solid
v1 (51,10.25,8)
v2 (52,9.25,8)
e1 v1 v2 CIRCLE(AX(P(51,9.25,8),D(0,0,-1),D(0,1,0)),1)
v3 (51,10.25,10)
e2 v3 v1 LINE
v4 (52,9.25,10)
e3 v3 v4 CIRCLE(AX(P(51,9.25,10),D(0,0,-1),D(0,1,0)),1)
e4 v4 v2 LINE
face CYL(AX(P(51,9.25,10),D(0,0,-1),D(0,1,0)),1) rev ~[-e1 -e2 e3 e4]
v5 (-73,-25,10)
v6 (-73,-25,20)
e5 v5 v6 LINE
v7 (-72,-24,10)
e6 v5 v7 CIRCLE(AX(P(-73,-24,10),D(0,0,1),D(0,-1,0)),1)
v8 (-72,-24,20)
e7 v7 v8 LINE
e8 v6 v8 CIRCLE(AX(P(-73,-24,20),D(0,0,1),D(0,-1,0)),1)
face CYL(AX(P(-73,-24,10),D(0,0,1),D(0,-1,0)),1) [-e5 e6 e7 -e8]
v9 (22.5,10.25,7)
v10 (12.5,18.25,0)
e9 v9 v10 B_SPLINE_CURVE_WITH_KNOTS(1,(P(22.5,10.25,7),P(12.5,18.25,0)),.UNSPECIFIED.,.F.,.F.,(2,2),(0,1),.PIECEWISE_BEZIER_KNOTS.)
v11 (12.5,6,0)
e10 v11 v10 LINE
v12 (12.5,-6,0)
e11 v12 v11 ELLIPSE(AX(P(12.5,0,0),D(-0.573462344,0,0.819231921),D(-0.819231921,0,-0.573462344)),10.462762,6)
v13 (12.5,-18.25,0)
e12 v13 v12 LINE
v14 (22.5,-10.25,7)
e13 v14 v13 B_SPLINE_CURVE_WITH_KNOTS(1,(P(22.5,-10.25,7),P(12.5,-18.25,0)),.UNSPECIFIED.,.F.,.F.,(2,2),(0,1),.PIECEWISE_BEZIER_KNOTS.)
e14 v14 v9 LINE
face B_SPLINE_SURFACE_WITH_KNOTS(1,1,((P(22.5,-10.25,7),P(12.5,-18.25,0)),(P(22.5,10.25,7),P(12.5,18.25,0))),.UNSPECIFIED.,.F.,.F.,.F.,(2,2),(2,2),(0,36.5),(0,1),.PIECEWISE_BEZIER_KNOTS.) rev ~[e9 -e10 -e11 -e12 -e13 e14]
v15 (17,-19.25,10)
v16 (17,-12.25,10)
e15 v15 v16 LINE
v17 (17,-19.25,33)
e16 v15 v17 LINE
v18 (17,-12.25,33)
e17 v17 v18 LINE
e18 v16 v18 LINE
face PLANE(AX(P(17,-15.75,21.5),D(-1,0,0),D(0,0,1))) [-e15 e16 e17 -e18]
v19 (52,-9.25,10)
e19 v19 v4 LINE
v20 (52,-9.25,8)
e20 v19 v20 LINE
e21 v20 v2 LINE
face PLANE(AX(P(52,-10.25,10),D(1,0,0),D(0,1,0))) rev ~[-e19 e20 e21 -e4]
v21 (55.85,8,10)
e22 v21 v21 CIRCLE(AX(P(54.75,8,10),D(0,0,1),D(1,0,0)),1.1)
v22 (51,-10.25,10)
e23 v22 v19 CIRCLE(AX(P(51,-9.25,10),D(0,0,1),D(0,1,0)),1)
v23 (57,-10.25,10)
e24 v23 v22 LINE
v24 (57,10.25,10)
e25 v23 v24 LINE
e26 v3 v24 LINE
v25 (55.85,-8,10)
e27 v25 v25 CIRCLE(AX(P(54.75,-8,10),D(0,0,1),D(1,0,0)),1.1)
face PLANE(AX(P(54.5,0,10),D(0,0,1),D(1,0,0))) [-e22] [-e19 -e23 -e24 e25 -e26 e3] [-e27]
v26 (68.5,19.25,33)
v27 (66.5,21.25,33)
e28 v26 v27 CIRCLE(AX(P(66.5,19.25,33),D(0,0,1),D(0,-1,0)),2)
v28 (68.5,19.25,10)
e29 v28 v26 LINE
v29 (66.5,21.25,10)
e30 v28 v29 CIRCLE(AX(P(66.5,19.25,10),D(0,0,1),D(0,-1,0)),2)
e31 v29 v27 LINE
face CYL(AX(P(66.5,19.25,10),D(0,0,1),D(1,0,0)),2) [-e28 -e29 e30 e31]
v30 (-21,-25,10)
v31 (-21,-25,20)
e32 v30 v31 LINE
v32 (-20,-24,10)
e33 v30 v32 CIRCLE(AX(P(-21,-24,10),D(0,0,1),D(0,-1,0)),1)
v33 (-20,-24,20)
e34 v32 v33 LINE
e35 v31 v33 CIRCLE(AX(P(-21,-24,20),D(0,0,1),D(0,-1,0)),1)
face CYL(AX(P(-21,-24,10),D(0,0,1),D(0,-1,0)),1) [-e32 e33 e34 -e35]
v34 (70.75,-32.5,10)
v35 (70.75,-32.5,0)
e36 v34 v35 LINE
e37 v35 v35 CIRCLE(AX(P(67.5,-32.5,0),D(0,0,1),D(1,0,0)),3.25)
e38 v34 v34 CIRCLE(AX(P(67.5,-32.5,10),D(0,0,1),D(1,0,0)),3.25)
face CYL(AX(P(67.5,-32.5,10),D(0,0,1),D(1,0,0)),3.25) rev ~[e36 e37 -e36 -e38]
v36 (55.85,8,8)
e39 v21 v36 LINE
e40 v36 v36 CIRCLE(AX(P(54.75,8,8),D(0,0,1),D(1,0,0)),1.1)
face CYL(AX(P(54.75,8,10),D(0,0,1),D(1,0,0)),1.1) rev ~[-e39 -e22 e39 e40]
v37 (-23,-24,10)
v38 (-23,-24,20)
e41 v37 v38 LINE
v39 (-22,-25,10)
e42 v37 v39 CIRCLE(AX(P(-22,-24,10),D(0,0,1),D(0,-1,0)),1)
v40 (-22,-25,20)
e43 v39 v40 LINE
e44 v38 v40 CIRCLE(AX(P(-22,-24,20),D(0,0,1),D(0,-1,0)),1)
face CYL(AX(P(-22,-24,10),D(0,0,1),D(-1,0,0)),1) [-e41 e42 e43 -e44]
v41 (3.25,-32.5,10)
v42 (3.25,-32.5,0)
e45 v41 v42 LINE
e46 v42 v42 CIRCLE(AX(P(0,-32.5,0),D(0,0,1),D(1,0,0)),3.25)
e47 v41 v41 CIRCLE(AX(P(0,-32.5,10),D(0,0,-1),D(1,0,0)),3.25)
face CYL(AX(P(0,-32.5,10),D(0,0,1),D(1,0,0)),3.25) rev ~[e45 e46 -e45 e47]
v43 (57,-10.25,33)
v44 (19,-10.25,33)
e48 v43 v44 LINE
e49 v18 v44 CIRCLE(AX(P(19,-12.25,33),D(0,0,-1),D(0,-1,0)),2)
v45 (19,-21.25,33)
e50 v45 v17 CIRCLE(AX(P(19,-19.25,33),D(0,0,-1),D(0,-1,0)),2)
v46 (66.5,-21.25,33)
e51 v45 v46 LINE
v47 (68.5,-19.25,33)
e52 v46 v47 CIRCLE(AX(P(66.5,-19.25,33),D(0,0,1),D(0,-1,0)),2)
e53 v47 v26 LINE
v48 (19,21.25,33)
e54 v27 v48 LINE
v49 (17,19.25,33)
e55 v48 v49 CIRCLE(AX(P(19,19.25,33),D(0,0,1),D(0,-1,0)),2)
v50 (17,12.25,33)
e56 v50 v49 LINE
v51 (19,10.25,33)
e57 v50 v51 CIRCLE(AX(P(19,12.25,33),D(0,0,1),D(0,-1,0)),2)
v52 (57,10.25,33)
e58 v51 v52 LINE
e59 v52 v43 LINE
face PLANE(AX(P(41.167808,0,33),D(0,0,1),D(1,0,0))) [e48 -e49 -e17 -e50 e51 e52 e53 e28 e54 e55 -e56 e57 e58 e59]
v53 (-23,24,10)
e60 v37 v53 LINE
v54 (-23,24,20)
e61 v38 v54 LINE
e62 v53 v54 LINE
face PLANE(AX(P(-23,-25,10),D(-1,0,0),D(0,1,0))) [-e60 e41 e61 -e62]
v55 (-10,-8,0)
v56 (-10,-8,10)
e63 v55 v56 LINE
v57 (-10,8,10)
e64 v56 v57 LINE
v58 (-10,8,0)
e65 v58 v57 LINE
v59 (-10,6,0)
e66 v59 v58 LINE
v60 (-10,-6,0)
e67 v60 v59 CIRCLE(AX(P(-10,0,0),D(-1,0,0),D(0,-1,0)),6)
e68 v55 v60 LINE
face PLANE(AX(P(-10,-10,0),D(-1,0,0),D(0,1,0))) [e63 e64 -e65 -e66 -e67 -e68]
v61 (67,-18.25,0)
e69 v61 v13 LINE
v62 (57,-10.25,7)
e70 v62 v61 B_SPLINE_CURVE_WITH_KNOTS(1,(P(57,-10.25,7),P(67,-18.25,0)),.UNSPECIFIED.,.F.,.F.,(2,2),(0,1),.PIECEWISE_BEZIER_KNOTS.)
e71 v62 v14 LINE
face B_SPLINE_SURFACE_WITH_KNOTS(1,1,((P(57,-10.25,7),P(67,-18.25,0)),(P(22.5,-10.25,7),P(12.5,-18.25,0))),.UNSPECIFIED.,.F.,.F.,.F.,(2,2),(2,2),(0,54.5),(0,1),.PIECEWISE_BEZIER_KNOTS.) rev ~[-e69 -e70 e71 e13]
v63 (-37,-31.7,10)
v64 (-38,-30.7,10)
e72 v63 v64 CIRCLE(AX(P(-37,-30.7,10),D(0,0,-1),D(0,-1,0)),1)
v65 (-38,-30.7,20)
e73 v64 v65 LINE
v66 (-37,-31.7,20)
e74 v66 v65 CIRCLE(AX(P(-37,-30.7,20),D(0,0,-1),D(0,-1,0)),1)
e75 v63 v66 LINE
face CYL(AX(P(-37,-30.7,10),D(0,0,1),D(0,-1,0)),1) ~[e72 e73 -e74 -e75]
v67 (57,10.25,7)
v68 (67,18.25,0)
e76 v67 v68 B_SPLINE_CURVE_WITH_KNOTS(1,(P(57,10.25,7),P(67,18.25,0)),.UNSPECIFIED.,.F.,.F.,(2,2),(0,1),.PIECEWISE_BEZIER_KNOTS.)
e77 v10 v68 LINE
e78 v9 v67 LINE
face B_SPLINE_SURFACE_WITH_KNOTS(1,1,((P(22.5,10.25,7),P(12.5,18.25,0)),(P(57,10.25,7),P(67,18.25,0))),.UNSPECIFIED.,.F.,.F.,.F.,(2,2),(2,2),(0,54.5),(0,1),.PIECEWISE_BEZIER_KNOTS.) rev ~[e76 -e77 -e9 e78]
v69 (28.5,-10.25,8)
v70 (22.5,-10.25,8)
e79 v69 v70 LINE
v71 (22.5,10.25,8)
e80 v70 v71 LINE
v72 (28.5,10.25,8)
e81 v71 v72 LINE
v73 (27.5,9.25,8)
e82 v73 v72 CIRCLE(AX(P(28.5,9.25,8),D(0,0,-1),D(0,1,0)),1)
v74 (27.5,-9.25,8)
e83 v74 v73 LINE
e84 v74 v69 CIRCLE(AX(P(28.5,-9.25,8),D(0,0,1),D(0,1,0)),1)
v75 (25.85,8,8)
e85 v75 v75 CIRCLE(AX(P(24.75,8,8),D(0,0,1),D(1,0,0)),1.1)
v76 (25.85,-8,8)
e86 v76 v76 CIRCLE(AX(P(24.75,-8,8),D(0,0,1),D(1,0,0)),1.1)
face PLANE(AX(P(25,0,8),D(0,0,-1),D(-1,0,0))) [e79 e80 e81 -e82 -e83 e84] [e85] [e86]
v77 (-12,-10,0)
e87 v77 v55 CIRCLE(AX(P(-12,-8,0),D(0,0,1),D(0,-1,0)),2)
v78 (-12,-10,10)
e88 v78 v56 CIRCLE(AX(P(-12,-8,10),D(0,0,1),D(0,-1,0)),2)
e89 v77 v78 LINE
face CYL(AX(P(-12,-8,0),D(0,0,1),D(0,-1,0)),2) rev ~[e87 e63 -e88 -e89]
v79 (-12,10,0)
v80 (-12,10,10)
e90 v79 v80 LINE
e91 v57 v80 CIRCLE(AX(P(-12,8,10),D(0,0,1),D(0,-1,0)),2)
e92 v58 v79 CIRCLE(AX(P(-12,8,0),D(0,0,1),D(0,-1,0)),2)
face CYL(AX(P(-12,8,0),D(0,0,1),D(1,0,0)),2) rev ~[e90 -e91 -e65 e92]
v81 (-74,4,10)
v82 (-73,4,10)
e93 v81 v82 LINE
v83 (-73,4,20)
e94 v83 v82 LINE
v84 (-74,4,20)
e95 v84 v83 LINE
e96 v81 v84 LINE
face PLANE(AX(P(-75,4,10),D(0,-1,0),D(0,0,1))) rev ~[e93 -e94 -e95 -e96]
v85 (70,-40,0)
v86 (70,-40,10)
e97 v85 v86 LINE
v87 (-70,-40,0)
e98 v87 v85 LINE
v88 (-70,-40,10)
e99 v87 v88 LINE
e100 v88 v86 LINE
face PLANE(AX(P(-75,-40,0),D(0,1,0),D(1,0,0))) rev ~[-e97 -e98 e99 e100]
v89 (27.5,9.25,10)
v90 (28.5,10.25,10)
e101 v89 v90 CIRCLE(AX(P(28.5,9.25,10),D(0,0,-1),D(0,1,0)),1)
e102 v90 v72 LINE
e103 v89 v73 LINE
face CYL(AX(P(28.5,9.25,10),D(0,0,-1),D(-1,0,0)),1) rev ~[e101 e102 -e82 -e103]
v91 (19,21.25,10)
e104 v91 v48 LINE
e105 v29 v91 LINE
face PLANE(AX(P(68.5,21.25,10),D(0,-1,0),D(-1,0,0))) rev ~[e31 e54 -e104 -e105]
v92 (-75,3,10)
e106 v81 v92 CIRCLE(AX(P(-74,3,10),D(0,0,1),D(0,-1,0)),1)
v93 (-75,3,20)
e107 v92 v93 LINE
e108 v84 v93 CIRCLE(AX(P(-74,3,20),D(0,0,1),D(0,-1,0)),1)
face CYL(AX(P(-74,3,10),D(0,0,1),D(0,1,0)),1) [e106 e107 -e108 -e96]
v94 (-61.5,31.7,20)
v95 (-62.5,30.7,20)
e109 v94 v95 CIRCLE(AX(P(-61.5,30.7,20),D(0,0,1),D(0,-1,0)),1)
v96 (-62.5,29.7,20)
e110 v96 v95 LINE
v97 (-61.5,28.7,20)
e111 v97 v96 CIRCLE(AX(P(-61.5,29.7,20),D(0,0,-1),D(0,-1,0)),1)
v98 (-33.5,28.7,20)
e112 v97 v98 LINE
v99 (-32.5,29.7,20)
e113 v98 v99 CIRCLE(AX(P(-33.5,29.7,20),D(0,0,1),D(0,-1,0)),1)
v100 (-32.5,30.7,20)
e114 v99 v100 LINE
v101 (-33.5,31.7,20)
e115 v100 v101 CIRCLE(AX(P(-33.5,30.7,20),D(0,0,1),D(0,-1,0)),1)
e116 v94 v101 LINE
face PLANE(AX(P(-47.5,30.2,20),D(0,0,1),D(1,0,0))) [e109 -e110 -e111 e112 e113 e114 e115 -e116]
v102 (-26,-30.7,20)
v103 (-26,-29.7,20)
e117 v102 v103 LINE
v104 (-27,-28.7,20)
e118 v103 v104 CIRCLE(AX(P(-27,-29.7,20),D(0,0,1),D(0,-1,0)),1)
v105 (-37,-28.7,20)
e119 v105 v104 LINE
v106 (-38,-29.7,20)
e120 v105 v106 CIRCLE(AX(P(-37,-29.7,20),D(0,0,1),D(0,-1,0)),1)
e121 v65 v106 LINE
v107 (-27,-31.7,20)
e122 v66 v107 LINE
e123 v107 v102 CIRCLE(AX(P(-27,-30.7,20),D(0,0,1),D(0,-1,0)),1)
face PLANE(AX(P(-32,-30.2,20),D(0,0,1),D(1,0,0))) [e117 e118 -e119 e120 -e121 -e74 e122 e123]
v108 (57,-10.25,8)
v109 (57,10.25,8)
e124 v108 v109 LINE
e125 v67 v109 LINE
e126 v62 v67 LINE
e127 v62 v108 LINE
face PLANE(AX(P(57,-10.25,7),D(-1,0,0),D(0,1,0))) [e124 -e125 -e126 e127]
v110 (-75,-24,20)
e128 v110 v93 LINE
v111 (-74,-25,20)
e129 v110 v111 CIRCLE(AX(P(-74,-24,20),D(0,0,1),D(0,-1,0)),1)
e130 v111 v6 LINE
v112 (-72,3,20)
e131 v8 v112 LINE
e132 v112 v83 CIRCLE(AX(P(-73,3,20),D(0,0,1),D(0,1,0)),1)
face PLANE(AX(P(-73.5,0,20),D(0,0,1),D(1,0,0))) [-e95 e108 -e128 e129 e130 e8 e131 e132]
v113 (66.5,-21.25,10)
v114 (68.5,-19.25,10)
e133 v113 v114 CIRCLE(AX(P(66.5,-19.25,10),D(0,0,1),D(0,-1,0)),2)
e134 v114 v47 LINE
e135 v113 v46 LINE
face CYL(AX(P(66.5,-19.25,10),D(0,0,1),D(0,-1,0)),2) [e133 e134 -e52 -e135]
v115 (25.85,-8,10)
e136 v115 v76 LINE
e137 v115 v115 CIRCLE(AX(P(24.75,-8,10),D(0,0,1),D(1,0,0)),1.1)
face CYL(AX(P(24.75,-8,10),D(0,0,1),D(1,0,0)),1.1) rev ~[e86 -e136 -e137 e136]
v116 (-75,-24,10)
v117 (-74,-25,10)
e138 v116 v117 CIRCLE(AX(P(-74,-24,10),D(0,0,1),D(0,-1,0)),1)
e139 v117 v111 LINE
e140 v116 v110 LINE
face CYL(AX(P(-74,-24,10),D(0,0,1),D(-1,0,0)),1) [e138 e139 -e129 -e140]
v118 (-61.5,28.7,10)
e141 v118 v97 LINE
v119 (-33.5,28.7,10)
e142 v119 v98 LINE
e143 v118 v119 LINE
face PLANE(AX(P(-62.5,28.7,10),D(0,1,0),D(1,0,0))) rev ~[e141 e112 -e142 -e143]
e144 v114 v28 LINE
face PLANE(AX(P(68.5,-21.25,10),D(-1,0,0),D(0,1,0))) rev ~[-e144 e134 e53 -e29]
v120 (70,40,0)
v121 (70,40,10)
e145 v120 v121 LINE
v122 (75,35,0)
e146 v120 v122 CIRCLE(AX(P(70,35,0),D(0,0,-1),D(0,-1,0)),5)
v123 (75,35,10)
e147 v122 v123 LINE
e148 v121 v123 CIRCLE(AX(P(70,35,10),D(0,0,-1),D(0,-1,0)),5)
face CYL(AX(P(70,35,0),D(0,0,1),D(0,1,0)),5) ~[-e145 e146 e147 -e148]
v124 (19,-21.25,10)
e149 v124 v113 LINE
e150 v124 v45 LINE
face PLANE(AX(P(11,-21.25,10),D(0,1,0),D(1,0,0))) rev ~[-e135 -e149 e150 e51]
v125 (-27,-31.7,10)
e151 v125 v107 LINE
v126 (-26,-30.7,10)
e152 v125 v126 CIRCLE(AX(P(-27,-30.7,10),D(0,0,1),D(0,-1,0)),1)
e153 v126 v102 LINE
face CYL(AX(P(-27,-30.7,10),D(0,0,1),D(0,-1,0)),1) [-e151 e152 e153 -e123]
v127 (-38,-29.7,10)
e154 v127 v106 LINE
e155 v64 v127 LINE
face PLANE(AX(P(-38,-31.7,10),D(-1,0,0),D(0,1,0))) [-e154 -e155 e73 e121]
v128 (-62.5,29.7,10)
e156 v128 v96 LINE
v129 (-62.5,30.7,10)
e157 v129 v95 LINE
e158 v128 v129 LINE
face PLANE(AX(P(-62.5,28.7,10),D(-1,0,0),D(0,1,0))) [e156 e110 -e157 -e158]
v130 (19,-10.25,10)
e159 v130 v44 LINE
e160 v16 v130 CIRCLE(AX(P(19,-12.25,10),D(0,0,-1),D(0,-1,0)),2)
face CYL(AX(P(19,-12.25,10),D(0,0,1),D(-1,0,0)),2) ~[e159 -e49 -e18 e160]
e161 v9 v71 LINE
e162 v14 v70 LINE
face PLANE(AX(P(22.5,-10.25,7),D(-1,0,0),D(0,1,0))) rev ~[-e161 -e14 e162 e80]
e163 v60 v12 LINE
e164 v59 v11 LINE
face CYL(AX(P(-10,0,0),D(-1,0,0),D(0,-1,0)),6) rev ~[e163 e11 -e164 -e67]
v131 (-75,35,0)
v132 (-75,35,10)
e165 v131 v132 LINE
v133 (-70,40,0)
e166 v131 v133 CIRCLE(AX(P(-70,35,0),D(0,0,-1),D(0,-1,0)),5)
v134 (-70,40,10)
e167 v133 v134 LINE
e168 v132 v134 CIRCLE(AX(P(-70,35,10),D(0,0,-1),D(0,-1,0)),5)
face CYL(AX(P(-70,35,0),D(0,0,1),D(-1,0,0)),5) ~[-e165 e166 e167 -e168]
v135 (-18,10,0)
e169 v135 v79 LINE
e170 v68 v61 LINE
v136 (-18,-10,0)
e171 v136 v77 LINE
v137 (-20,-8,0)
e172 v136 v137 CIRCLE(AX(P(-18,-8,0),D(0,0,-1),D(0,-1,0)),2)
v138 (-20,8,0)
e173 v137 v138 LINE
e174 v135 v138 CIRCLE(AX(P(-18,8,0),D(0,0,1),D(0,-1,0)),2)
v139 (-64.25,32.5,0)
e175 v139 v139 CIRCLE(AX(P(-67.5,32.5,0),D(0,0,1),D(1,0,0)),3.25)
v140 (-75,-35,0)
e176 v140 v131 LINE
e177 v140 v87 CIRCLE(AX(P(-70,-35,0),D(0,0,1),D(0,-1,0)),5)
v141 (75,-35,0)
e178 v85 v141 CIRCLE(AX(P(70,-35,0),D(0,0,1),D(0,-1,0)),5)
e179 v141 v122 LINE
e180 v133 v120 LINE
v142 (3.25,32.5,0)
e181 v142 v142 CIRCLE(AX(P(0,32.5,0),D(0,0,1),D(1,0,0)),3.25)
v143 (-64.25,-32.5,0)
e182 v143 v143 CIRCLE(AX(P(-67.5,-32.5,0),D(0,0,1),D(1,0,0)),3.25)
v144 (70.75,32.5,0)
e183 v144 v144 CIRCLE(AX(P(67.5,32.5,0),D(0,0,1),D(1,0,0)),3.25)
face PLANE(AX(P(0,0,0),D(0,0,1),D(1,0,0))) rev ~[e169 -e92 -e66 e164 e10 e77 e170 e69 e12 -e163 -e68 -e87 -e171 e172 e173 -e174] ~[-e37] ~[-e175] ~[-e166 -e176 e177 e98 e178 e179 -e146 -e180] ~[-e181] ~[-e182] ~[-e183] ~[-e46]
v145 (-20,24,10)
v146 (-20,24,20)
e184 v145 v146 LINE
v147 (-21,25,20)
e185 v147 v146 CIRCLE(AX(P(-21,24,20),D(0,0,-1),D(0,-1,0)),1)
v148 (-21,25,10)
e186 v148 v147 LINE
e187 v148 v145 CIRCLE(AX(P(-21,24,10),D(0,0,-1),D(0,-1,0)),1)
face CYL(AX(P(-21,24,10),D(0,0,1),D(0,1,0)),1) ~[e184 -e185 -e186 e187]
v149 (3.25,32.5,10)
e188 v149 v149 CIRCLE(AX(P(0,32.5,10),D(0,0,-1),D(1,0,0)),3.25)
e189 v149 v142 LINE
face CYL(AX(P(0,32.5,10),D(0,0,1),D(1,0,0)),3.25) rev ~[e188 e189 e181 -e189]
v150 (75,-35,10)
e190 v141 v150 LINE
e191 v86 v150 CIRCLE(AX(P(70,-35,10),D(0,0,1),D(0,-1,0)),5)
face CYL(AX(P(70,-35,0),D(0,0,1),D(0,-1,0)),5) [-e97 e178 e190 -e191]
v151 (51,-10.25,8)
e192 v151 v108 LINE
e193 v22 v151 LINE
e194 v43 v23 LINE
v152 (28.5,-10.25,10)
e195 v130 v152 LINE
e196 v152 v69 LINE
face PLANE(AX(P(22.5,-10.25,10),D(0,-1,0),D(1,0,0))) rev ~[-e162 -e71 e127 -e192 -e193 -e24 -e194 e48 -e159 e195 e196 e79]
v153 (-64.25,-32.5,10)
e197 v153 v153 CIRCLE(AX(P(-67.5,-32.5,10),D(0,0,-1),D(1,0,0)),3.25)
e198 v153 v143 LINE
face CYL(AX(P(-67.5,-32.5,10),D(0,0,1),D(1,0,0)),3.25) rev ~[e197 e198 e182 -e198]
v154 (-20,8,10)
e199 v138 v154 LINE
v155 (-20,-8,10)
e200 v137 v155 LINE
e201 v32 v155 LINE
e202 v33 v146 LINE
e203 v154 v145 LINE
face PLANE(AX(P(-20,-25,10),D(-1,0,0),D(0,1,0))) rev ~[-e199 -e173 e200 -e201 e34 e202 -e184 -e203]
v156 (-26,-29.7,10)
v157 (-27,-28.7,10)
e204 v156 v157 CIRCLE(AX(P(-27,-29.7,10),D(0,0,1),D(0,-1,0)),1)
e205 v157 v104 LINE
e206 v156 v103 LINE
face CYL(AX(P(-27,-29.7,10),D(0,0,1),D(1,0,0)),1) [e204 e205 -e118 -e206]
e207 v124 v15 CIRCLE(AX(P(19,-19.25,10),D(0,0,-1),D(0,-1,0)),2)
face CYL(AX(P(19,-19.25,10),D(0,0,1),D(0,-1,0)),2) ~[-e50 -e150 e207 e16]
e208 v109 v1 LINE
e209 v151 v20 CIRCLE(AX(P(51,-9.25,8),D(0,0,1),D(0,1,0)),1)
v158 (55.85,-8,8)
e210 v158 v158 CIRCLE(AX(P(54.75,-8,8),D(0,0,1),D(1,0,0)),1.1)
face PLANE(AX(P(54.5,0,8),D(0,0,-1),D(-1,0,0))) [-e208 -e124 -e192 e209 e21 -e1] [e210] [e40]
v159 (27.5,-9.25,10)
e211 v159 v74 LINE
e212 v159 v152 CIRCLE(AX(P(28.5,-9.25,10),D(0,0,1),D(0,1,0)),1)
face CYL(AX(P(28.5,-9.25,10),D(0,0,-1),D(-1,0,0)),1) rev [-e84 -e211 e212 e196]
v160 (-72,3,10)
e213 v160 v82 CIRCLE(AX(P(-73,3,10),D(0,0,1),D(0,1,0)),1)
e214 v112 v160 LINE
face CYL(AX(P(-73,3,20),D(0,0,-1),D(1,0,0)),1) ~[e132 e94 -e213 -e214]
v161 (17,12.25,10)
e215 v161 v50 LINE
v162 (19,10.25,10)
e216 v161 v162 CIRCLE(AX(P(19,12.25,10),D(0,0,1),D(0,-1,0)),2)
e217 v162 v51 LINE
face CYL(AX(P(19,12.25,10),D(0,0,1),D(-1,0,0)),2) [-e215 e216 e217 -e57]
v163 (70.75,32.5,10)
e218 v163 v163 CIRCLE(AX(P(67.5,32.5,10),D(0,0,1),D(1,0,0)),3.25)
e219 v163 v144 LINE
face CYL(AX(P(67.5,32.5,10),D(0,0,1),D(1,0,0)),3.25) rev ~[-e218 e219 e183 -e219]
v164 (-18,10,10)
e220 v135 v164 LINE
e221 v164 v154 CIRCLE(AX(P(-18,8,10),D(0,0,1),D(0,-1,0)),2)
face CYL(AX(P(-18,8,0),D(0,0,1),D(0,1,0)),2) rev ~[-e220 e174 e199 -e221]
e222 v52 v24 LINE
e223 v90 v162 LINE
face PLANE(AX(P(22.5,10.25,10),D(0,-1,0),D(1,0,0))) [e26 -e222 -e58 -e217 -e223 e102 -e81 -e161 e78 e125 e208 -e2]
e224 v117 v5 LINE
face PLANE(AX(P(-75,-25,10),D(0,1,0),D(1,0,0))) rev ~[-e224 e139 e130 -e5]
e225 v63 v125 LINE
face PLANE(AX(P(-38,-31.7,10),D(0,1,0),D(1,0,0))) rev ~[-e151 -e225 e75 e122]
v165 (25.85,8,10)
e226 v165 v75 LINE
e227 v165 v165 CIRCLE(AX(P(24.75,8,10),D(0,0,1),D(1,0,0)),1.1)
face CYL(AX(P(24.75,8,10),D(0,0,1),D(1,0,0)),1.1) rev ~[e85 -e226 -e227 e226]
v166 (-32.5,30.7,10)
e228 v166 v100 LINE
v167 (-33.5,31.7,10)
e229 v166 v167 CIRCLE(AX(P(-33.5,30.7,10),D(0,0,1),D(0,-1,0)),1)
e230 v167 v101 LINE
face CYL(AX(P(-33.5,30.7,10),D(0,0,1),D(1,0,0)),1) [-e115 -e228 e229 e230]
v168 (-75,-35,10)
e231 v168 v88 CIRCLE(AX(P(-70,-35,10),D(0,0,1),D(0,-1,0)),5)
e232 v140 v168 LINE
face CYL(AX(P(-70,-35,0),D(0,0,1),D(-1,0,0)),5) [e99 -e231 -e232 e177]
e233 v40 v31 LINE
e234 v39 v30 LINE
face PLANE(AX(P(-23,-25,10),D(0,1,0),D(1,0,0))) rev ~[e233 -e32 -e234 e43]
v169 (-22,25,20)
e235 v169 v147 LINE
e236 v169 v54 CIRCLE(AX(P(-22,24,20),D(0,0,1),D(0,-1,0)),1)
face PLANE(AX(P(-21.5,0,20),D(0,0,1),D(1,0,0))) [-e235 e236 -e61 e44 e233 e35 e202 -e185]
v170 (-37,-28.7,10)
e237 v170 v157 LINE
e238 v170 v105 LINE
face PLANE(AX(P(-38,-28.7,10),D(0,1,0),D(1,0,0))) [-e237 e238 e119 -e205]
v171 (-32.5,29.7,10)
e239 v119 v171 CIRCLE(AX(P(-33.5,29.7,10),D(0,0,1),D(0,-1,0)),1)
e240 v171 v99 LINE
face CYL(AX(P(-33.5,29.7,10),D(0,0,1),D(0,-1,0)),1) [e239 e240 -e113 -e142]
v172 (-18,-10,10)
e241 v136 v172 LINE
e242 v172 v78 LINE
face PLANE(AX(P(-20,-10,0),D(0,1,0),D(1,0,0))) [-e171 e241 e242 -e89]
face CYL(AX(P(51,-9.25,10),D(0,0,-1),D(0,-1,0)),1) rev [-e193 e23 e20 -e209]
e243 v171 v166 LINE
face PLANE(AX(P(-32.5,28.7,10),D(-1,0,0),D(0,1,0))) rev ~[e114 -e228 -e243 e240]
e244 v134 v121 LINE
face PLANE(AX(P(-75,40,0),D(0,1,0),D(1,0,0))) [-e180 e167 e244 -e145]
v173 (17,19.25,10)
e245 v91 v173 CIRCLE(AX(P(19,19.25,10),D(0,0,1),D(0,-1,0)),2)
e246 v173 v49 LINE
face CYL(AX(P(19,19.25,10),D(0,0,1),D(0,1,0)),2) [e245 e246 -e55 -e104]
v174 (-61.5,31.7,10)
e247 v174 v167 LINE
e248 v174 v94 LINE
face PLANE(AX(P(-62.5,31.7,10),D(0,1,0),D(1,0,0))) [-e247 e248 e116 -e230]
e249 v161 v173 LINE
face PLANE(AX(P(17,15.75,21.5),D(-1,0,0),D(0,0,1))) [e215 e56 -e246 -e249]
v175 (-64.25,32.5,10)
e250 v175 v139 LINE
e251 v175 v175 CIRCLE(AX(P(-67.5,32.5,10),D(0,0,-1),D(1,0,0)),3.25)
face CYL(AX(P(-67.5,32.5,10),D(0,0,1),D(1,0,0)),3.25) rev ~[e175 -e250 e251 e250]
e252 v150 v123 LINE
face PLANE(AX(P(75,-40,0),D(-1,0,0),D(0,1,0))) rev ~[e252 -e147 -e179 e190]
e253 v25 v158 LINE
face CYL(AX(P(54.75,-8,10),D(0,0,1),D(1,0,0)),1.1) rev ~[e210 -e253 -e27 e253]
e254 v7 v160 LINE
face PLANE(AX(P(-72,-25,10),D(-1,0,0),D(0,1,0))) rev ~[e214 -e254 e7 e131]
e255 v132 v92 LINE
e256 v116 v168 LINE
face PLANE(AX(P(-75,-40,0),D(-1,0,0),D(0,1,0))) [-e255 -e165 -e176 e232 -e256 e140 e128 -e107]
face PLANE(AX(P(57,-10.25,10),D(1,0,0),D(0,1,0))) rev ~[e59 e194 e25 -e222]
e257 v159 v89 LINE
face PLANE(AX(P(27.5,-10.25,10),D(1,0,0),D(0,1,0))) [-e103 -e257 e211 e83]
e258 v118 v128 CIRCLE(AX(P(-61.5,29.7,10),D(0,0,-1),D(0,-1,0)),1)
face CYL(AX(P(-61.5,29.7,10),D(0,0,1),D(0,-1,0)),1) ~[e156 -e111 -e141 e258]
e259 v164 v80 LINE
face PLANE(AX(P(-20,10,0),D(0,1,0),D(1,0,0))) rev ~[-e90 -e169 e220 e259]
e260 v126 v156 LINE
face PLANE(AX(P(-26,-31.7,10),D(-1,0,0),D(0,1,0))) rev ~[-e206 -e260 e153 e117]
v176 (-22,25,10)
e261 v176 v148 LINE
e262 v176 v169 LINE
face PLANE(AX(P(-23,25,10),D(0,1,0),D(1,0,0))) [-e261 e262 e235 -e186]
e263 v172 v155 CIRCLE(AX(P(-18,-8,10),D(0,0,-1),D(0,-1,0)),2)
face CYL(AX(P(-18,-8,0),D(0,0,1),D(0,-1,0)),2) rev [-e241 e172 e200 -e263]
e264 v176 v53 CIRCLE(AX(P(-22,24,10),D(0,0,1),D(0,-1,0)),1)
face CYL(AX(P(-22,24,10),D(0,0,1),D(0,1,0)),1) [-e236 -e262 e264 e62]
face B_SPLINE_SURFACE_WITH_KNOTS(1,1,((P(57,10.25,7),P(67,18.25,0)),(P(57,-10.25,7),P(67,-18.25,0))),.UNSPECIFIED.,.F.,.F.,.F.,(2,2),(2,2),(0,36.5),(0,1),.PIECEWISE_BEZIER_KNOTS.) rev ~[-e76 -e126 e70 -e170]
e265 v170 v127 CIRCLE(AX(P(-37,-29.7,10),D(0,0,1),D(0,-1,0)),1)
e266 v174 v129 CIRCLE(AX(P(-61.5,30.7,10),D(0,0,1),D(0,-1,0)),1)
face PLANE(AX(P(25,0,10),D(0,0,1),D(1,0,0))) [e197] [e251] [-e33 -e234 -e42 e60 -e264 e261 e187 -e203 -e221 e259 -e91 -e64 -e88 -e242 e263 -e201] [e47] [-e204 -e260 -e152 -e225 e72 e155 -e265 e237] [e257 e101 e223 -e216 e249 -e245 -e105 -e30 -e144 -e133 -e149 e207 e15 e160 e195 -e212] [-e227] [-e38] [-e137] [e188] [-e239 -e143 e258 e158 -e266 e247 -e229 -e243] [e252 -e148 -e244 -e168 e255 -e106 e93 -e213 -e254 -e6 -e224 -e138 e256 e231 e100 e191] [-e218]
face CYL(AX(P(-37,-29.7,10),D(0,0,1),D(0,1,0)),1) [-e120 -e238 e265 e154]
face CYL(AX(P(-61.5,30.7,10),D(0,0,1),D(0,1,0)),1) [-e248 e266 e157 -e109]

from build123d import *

# Parameters (mm, degrees)
SKETCH1_W            = 150
SKETCH1_H            = 80
SKETCH1_W_2          = 10
SKETCH1_H_2          = 20
BOSS_EXTRUDE1_DEPTH  = 10
FILLET1_R            = 2
FILLET2_R            = 5
BOSS_EXTRUDE2_DEPTH  = 23
SKETCH2_3_W          = 34.5
SKETCH2_3_H          = 20.5
CUT_EXTRUDE1_DEPTH   = 10
SKETCH3_W            = 5
SKETCH3_H            = 20.5
SKETCH3_R            = 1.1
BOSS_EXTRUDE3_DEPTH  = 3
CUT_EXTRUDE2_REACH   = 101.569
SKETCH7_W            = 5
SKETCH7_H            = 20.5
CUT_EXTRUDE3_DEPTH   = 1
SKETCH14_W           = 23
SKETCH14_H           = 11
CUT_EXTRUDE4_DEPTH   = 6
FILLET4_R            = 1
SKETCH15_R           = 3.25
CUT_EXTRUDE5_DEPTH   = 10
BOSS_EXTRUDE8_DEPTH  = 15
SKETCH16_3_W         = 19
SKETCH16_3_H         = 5
BOSS_EXTRUDE9_DEPTH  = 5
SKETCH17_R           = 1.7
CUT_EXTRUDE6_DEPTH   = 4
FILLET10_R           = 2
FILLET11_R           = 2
SKETCH18_W           = 67.5
SKETCH18_H           = 65
CUT_EXTRUDE7_DEPTH   = 89.056799851
SKETCH20_W           = 3
SKETCH20_H           = 50
BOSS_EXTRUDE11_DEPTH = 10
FILLET13_R           = 1
FILLET14_R           = 1
CUT_EXTRUDE8_REACH   = 160.71
SKETCH21_W           = 10
SKETCH21_H           = 30
FILLET15_R           = 1
SKETCH22_W           = 30
SKETCH22_H           = 3
SKETCH22_W_2         = 12
BOSS_EXTRUDE12_DEPTH = 10
FILLET16_R           = 1
FILLET17_R           = 1
FILLET18_R           = 2


with BuildPart() as part:
    # Sketch1 → Boss-Extrude1 (new body)
    with BuildSketch(Plane.XY):
        Rectangle(SKETCH1_W, SKETCH1_H)
        with Locations((-15, 0)):
            Rectangle(SKETCH1_W_2, SKETCH1_H_2, mode=Mode.SUBTRACT)
    extrude(amount=BOSS_EXTRUDE1_DEPTH)

    # Fillet1
    fillet1_edges = [part.edges().sort_by_distance(p)[0] for p in [
        (-10, -10, 5),
        (-10, 10, 5),
        (-20, 10, 5),
        (-20, -10, 5),
    ]]
    fillet(fillet1_edges, radius=FILLET1_R)

    # Fillet2
    fillet2_edges = [part.edges().sort_by_distance(p)[0] for p in [
        (75, -40, 5),
        (-75, -40, 5),
        (-75, 40, 5),
        (75, 40, 5),
    ]]
    fillet(fillet2_edges, radius=FILLET2_R)

    # Sketch2 → Boss-Extrude2 (add)
    with BuildSketch(Plane.XY.offset(10)):
        Polygon((57, 10.25), (57, -10.25), (22.5, -10.25), (11, -10.25), (11, -21.25), (68.5, -21.25), (68.5, 21.25), (11, 21.25), (11, 10.25), (22.5, 10.25), align=None)
    extrude(amount=BOSS_EXTRUDE2_DEPTH)

    # Sketch2<3> → Cut-Extrude1 (cut)
    with BuildSketch(Plane.XY.offset(10)):
        with Locations((39.75, 0)):
            Rectangle(SKETCH2_3_W, SKETCH2_3_H)
    extrude(amount=-CUT_EXTRUDE1_DEPTH, mode=Mode.SUBTRACT)

    # Sketch3 → Boss-Extrude3 (add)
    # profile 1 of 2: a face of its own
    with BuildSketch(Plane.XY.offset(10)):
        with Locations((25, 0)):
            Rectangle(SKETCH3_W, SKETCH3_H)
        with Locations((24.75, 8)):
            Circle(SKETCH3_R, mode=Mode.SUBTRACT)
        with Locations((24.75, -8)):
            Circle(SKETCH3_R, mode=Mode.SUBTRACT)
    # profile 2 of 2: a face of its own
    with BuildSketch(Plane.XY.offset(10)):
        with Locations((54.5, 0)):
            Rectangle(SKETCH3_W, SKETCH3_H)
        with Locations((54.75, 8)):
            Circle(SKETCH3_R, mode=Mode.SUBTRACT)
        with Locations((54.75, -8)):
            Circle(SKETCH3_R, mode=Mode.SUBTRACT)
    extrude(amount=-BOSS_EXTRUDE3_DEPTH)

    # Sketch4 → Cut-Loft2 section 0
    with BuildSketch(Plane(origin=(0, 0, 7), x_dir=(-1, 0, 0), z_dir=(0, 0, -1))):
        with BuildLine():
            Line((-22.5, 10.25), (-57, 10.25))
            Line((-57, 10.25), (-57, -10.25))
            Line((-57, -10.25), (-22.5, -10.25))
            Line((-22.5, -10.25), (-22.5, 10.25))
        make_face()
    # Sketch5 → Cut-Loft2 section 1
    with BuildSketch(Plane(origin=(0, 0, 0), x_dir=(-1, 0, 0), z_dir=(0, 0, -1))):
        with BuildLine():
            Line((-67, -18.25), (-12.5, -18.25))
            Line((-12.5, -18.25), (-12.5, 18.25))
            Line((-12.5, 18.25), (-67, 18.25))
            Line((-67, 18.25), (-67, -18.25))
        make_face()
    loft(mode=Mode.SUBTRACT)

    # Cut-Extrude2: up to this plane
    cut_extrude2_end = Plane(origin=(4.110738255, 0, -5.872483221), z_dir=(-0.5734623443633287, 0, 0.8192319205190403))
    # Sketch6 → Cut-Extrude2 (cut, up to the surface)
    with BuildSketch(Plane.ZY.offset(10), mode=Mode.PRIVATE) as cut_extrude2_sk1:
        with BuildLine():
            Line((0, 6), (0, -6))
            ThreePointArc((0, -6), (6, 0), (0, 6))
        make_face()
    cut_extrude2_tool1 = split(extrude(cut_extrude2_sk1.sketch, amount=-CUT_EXTRUDE2_REACH, mode=Mode.PRIVATE), bisect_by=cut_extrude2_end, keep=Keep.BOTH, mode=Mode.PRIVATE)
    add(cut_extrude2_tool1.solids().sort_by_distance((-10, 0, 2.546479))[0], mode=Mode.SUBTRACT)

    # Sketch7 → Cut-Extrude3 (cut)
    with BuildSketch(Plane(origin=(0, 0, 7), x_dir=(-1, 0, 0), z_dir=(0, 0, -1))):
        with Locations((-54.5, 0)):
            Rectangle(SKETCH7_W, SKETCH7_H)
        with Locations((-25, 0)):
            Rectangle(SKETCH7_W, SKETCH7_H)
    extrude(amount=-CUT_EXTRUDE3_DEPTH, mode=Mode.SUBTRACT)

    # Sketch14 → Cut-Extrude4 (cut)
    with BuildSketch(Plane.ZY.offset(-11)):
        with Locations((21.5, -15.75)):
            Rectangle(SKETCH14_W, SKETCH14_H)
        with Locations((21.5, 15.75)):
            Rectangle(SKETCH14_W, SKETCH14_H)
    extrude(amount=-CUT_EXTRUDE4_DEPTH, mode=Mode.SUBTRACT)

    # Fillet4
    fillet4_edges = [part.edges().sort_by_distance(p)[0] for p in [
        (52, 10.25, 9),
        (52, -10.25, 9),
        (27.5, -10.25, 9),
        (27.5, 10.25, 9),
    ]]
    fillet(fillet4_edges, radius=FILLET4_R)

    # Sketch15 → Cut-Extrude5 (cut)
    with BuildSketch(Plane.XY.offset(10)):
        with Locations((-67.5, 32.5)):
            Circle(SKETCH15_R)
        with Locations((0, 32.5)):
            Circle(SKETCH15_R)
        with Locations((67.5, 32.5)):
            Circle(SKETCH15_R)
        with Locations((67.5, -32.5)):
            Circle(SKETCH15_R)
        with Locations((0, -32.5)):
            Circle(SKETCH15_R)
        with Locations((-67.5, -32.5)):
            Circle(SKETCH15_R)
    extrude(amount=-CUT_EXTRUDE5_DEPTH, mode=Mode.SUBTRACT)

    # Sketch16 → Boss-Extrude8 (add)
    with BuildSketch(Plane.XY.offset(10)):
        Polygon((-49, -24.05), (-49, 24.05), (-30, 24.05), (-30, -24.05), (-30, -29.05), (-25, -29.05), (-25, 29.05), (-54, 29.05), (-54, -29.05), (-49, -29.05), align=None)
    extrude(amount=BOSS_EXTRUDE8_DEPTH)

    # Sketch16<3> → Boss-Extrude9 (add)
    with BuildSketch(Plane.XY.offset(10)):
        with Locations((-39.5, -26.55)):
            Rectangle(SKETCH16_3_W, SKETCH16_3_H)
    extrude(amount=BOSS_EXTRUDE9_DEPTH)

    # Sketch17 → Cut-Extrude6 (cut)
    with BuildSketch(Plane.XY.offset(25)):
        with Locations((-27.5, 3.05)):
            Circle(SKETCH17_R)
        with Locations((-51.5, -6.95)):
            Circle(SKETCH17_R)
    extrude(amount=-CUT_EXTRUDE6_DEPTH, mode=Mode.SUBTRACT)

    # Fillet10
    fillet10_edges = [part.edges().sort_by_distance(p)[0] for p in [
        (-30, -26.55, 15),
        (-49, -26.55, 15),
    ]]
    fillet(fillet10_edges, radius=FILLET10_R)

    # Fillet11
    fillet11_edges = [part.edges().sort_by_distance(p)[0] for p in [
        (-39.5, -29.05, 10),
        (-25, -29.05, 17.5),
        (-25, 29.05, 17.5),
        (-54, 0, 10),
        (-54, 29.05, 17.5),
        (-54, -29.05, 17.5),
        (-39.5, 29.05, 10),
        (-25, 0, 10),
    ]]
    fillet(fillet11_edges, radius=FILLET11_R)

    # Sketch18 → Cut-Extrude7 (cut, through all)
    with BuildSketch(Plane.XY.offset(10)):
        with Locations((-33.75, 0)):
            Rectangle(SKETCH18_W, SKETCH18_H)
    extrude(amount=CUT_EXTRUDE7_DEPTH, mode=Mode.SUBTRACT)

    # Sketch20 → Boss-Extrude11 (add)
    with BuildSketch(Plane.XY.offset(10)):
        with Locations((-73.5, 0)):
            Rectangle(SKETCH20_W, SKETCH20_H)
        with Locations((-21.5, 0)):
            Rectangle(SKETCH20_W, SKETCH20_H)
    extrude(amount=BOSS_EXTRUDE11_DEPTH)

    # Fillet13
    fillet13_edges = [part.edges().sort_by_distance(p)[0] for p in [
        (-75, 25, 15),
        (-75, -25, 15),
        (-72, -25, 15),
        (-72, 25, 15),
    ]]
    fillet(fillet13_edges, radius=FILLET13_R)

    # Fillet14
    fillet14_edges = [part.edges().sort_by_distance(p)[0] for p in [
        (-23, 25, 15),
        (-23, -25, 15),
        (-20, -25, 15),
        (-20, 25, 15),
    ]]
    fillet(fillet14_edges, radius=FILLET14_R)

    # Sketch21 → Cut-Extrude8 (cut, up to next)
    with BuildSketch(Plane.ZY.offset(75), mode=Mode.PRIVATE) as cut_extrude8_sk1:
        with Locations((15, 19)):
            Rectangle(SKETCH21_W, SKETCH21_H)
    cut_extrude8_tool1 = extrude(cut_extrude8_sk1.sketch, amount=-CUT_EXTRUDE8_REACH, mode=Mode.PRIVATE) & part.part
    add(cut_extrude8_tool1.solids().sort_by_distance((-75, 19, 15))[0], mode=Mode.SUBTRACT)

    # Fillet15
    fillet15_edges = [part.edges().sort_by_distance(p)[0] for p in [
        (-75, 4, 15),
        (-72, 4, 15),
    ]]
    fillet(fillet15_edges, radius=FILLET15_R)

    # Sketch22 → Boss-Extrude12 (add)
    with BuildSketch(Plane.XY.offset(10)):
        with Locations((-47.5, 30.2)):
            Rectangle(SKETCH22_W, SKETCH22_H)
        with Locations((-32, -30.2)):
            Rectangle(SKETCH22_W_2, SKETCH22_H)
    extrude(amount=BOSS_EXTRUDE12_DEPTH)

    # Fillet16
    fillet16_edges = [part.edges().sort_by_distance(p)[0] for p in [
        (-62.5, 31.7, 15),
        (-62.5, 28.7, 15),
        (-32.5, 28.7, 15),
        (-32.5, 31.7, 15),
    ]]
    fillet(fillet16_edges, radius=FILLET16_R)

    # Fillet17
    fillet17_edges = [part.edges().sort_by_distance(p)[0] for p in [
        (-38, -28.7, 15),
        (-38, -31.7, 15),
        (-26, -31.7, 15),
        (-26, -28.7, 15),
    ]]
    fillet(fillet17_edges, radius=FILLET17_R)

    # Fillet18
    fillet18_edges = [part.edges().sort_by_distance(p)[0] for p in [
        (17, -10.25, 21.5),
        (17, -21.25, 21.5),
        (17, 21.25, 21.5),
        (17, 10.25, 21.5),
        (68.5, -21.25, 21.5),
        (68.5, 21.25, 21.5),
    ]]
    fillet(fillet18_edges, radius=FILLET18_R)


solid = part.part
